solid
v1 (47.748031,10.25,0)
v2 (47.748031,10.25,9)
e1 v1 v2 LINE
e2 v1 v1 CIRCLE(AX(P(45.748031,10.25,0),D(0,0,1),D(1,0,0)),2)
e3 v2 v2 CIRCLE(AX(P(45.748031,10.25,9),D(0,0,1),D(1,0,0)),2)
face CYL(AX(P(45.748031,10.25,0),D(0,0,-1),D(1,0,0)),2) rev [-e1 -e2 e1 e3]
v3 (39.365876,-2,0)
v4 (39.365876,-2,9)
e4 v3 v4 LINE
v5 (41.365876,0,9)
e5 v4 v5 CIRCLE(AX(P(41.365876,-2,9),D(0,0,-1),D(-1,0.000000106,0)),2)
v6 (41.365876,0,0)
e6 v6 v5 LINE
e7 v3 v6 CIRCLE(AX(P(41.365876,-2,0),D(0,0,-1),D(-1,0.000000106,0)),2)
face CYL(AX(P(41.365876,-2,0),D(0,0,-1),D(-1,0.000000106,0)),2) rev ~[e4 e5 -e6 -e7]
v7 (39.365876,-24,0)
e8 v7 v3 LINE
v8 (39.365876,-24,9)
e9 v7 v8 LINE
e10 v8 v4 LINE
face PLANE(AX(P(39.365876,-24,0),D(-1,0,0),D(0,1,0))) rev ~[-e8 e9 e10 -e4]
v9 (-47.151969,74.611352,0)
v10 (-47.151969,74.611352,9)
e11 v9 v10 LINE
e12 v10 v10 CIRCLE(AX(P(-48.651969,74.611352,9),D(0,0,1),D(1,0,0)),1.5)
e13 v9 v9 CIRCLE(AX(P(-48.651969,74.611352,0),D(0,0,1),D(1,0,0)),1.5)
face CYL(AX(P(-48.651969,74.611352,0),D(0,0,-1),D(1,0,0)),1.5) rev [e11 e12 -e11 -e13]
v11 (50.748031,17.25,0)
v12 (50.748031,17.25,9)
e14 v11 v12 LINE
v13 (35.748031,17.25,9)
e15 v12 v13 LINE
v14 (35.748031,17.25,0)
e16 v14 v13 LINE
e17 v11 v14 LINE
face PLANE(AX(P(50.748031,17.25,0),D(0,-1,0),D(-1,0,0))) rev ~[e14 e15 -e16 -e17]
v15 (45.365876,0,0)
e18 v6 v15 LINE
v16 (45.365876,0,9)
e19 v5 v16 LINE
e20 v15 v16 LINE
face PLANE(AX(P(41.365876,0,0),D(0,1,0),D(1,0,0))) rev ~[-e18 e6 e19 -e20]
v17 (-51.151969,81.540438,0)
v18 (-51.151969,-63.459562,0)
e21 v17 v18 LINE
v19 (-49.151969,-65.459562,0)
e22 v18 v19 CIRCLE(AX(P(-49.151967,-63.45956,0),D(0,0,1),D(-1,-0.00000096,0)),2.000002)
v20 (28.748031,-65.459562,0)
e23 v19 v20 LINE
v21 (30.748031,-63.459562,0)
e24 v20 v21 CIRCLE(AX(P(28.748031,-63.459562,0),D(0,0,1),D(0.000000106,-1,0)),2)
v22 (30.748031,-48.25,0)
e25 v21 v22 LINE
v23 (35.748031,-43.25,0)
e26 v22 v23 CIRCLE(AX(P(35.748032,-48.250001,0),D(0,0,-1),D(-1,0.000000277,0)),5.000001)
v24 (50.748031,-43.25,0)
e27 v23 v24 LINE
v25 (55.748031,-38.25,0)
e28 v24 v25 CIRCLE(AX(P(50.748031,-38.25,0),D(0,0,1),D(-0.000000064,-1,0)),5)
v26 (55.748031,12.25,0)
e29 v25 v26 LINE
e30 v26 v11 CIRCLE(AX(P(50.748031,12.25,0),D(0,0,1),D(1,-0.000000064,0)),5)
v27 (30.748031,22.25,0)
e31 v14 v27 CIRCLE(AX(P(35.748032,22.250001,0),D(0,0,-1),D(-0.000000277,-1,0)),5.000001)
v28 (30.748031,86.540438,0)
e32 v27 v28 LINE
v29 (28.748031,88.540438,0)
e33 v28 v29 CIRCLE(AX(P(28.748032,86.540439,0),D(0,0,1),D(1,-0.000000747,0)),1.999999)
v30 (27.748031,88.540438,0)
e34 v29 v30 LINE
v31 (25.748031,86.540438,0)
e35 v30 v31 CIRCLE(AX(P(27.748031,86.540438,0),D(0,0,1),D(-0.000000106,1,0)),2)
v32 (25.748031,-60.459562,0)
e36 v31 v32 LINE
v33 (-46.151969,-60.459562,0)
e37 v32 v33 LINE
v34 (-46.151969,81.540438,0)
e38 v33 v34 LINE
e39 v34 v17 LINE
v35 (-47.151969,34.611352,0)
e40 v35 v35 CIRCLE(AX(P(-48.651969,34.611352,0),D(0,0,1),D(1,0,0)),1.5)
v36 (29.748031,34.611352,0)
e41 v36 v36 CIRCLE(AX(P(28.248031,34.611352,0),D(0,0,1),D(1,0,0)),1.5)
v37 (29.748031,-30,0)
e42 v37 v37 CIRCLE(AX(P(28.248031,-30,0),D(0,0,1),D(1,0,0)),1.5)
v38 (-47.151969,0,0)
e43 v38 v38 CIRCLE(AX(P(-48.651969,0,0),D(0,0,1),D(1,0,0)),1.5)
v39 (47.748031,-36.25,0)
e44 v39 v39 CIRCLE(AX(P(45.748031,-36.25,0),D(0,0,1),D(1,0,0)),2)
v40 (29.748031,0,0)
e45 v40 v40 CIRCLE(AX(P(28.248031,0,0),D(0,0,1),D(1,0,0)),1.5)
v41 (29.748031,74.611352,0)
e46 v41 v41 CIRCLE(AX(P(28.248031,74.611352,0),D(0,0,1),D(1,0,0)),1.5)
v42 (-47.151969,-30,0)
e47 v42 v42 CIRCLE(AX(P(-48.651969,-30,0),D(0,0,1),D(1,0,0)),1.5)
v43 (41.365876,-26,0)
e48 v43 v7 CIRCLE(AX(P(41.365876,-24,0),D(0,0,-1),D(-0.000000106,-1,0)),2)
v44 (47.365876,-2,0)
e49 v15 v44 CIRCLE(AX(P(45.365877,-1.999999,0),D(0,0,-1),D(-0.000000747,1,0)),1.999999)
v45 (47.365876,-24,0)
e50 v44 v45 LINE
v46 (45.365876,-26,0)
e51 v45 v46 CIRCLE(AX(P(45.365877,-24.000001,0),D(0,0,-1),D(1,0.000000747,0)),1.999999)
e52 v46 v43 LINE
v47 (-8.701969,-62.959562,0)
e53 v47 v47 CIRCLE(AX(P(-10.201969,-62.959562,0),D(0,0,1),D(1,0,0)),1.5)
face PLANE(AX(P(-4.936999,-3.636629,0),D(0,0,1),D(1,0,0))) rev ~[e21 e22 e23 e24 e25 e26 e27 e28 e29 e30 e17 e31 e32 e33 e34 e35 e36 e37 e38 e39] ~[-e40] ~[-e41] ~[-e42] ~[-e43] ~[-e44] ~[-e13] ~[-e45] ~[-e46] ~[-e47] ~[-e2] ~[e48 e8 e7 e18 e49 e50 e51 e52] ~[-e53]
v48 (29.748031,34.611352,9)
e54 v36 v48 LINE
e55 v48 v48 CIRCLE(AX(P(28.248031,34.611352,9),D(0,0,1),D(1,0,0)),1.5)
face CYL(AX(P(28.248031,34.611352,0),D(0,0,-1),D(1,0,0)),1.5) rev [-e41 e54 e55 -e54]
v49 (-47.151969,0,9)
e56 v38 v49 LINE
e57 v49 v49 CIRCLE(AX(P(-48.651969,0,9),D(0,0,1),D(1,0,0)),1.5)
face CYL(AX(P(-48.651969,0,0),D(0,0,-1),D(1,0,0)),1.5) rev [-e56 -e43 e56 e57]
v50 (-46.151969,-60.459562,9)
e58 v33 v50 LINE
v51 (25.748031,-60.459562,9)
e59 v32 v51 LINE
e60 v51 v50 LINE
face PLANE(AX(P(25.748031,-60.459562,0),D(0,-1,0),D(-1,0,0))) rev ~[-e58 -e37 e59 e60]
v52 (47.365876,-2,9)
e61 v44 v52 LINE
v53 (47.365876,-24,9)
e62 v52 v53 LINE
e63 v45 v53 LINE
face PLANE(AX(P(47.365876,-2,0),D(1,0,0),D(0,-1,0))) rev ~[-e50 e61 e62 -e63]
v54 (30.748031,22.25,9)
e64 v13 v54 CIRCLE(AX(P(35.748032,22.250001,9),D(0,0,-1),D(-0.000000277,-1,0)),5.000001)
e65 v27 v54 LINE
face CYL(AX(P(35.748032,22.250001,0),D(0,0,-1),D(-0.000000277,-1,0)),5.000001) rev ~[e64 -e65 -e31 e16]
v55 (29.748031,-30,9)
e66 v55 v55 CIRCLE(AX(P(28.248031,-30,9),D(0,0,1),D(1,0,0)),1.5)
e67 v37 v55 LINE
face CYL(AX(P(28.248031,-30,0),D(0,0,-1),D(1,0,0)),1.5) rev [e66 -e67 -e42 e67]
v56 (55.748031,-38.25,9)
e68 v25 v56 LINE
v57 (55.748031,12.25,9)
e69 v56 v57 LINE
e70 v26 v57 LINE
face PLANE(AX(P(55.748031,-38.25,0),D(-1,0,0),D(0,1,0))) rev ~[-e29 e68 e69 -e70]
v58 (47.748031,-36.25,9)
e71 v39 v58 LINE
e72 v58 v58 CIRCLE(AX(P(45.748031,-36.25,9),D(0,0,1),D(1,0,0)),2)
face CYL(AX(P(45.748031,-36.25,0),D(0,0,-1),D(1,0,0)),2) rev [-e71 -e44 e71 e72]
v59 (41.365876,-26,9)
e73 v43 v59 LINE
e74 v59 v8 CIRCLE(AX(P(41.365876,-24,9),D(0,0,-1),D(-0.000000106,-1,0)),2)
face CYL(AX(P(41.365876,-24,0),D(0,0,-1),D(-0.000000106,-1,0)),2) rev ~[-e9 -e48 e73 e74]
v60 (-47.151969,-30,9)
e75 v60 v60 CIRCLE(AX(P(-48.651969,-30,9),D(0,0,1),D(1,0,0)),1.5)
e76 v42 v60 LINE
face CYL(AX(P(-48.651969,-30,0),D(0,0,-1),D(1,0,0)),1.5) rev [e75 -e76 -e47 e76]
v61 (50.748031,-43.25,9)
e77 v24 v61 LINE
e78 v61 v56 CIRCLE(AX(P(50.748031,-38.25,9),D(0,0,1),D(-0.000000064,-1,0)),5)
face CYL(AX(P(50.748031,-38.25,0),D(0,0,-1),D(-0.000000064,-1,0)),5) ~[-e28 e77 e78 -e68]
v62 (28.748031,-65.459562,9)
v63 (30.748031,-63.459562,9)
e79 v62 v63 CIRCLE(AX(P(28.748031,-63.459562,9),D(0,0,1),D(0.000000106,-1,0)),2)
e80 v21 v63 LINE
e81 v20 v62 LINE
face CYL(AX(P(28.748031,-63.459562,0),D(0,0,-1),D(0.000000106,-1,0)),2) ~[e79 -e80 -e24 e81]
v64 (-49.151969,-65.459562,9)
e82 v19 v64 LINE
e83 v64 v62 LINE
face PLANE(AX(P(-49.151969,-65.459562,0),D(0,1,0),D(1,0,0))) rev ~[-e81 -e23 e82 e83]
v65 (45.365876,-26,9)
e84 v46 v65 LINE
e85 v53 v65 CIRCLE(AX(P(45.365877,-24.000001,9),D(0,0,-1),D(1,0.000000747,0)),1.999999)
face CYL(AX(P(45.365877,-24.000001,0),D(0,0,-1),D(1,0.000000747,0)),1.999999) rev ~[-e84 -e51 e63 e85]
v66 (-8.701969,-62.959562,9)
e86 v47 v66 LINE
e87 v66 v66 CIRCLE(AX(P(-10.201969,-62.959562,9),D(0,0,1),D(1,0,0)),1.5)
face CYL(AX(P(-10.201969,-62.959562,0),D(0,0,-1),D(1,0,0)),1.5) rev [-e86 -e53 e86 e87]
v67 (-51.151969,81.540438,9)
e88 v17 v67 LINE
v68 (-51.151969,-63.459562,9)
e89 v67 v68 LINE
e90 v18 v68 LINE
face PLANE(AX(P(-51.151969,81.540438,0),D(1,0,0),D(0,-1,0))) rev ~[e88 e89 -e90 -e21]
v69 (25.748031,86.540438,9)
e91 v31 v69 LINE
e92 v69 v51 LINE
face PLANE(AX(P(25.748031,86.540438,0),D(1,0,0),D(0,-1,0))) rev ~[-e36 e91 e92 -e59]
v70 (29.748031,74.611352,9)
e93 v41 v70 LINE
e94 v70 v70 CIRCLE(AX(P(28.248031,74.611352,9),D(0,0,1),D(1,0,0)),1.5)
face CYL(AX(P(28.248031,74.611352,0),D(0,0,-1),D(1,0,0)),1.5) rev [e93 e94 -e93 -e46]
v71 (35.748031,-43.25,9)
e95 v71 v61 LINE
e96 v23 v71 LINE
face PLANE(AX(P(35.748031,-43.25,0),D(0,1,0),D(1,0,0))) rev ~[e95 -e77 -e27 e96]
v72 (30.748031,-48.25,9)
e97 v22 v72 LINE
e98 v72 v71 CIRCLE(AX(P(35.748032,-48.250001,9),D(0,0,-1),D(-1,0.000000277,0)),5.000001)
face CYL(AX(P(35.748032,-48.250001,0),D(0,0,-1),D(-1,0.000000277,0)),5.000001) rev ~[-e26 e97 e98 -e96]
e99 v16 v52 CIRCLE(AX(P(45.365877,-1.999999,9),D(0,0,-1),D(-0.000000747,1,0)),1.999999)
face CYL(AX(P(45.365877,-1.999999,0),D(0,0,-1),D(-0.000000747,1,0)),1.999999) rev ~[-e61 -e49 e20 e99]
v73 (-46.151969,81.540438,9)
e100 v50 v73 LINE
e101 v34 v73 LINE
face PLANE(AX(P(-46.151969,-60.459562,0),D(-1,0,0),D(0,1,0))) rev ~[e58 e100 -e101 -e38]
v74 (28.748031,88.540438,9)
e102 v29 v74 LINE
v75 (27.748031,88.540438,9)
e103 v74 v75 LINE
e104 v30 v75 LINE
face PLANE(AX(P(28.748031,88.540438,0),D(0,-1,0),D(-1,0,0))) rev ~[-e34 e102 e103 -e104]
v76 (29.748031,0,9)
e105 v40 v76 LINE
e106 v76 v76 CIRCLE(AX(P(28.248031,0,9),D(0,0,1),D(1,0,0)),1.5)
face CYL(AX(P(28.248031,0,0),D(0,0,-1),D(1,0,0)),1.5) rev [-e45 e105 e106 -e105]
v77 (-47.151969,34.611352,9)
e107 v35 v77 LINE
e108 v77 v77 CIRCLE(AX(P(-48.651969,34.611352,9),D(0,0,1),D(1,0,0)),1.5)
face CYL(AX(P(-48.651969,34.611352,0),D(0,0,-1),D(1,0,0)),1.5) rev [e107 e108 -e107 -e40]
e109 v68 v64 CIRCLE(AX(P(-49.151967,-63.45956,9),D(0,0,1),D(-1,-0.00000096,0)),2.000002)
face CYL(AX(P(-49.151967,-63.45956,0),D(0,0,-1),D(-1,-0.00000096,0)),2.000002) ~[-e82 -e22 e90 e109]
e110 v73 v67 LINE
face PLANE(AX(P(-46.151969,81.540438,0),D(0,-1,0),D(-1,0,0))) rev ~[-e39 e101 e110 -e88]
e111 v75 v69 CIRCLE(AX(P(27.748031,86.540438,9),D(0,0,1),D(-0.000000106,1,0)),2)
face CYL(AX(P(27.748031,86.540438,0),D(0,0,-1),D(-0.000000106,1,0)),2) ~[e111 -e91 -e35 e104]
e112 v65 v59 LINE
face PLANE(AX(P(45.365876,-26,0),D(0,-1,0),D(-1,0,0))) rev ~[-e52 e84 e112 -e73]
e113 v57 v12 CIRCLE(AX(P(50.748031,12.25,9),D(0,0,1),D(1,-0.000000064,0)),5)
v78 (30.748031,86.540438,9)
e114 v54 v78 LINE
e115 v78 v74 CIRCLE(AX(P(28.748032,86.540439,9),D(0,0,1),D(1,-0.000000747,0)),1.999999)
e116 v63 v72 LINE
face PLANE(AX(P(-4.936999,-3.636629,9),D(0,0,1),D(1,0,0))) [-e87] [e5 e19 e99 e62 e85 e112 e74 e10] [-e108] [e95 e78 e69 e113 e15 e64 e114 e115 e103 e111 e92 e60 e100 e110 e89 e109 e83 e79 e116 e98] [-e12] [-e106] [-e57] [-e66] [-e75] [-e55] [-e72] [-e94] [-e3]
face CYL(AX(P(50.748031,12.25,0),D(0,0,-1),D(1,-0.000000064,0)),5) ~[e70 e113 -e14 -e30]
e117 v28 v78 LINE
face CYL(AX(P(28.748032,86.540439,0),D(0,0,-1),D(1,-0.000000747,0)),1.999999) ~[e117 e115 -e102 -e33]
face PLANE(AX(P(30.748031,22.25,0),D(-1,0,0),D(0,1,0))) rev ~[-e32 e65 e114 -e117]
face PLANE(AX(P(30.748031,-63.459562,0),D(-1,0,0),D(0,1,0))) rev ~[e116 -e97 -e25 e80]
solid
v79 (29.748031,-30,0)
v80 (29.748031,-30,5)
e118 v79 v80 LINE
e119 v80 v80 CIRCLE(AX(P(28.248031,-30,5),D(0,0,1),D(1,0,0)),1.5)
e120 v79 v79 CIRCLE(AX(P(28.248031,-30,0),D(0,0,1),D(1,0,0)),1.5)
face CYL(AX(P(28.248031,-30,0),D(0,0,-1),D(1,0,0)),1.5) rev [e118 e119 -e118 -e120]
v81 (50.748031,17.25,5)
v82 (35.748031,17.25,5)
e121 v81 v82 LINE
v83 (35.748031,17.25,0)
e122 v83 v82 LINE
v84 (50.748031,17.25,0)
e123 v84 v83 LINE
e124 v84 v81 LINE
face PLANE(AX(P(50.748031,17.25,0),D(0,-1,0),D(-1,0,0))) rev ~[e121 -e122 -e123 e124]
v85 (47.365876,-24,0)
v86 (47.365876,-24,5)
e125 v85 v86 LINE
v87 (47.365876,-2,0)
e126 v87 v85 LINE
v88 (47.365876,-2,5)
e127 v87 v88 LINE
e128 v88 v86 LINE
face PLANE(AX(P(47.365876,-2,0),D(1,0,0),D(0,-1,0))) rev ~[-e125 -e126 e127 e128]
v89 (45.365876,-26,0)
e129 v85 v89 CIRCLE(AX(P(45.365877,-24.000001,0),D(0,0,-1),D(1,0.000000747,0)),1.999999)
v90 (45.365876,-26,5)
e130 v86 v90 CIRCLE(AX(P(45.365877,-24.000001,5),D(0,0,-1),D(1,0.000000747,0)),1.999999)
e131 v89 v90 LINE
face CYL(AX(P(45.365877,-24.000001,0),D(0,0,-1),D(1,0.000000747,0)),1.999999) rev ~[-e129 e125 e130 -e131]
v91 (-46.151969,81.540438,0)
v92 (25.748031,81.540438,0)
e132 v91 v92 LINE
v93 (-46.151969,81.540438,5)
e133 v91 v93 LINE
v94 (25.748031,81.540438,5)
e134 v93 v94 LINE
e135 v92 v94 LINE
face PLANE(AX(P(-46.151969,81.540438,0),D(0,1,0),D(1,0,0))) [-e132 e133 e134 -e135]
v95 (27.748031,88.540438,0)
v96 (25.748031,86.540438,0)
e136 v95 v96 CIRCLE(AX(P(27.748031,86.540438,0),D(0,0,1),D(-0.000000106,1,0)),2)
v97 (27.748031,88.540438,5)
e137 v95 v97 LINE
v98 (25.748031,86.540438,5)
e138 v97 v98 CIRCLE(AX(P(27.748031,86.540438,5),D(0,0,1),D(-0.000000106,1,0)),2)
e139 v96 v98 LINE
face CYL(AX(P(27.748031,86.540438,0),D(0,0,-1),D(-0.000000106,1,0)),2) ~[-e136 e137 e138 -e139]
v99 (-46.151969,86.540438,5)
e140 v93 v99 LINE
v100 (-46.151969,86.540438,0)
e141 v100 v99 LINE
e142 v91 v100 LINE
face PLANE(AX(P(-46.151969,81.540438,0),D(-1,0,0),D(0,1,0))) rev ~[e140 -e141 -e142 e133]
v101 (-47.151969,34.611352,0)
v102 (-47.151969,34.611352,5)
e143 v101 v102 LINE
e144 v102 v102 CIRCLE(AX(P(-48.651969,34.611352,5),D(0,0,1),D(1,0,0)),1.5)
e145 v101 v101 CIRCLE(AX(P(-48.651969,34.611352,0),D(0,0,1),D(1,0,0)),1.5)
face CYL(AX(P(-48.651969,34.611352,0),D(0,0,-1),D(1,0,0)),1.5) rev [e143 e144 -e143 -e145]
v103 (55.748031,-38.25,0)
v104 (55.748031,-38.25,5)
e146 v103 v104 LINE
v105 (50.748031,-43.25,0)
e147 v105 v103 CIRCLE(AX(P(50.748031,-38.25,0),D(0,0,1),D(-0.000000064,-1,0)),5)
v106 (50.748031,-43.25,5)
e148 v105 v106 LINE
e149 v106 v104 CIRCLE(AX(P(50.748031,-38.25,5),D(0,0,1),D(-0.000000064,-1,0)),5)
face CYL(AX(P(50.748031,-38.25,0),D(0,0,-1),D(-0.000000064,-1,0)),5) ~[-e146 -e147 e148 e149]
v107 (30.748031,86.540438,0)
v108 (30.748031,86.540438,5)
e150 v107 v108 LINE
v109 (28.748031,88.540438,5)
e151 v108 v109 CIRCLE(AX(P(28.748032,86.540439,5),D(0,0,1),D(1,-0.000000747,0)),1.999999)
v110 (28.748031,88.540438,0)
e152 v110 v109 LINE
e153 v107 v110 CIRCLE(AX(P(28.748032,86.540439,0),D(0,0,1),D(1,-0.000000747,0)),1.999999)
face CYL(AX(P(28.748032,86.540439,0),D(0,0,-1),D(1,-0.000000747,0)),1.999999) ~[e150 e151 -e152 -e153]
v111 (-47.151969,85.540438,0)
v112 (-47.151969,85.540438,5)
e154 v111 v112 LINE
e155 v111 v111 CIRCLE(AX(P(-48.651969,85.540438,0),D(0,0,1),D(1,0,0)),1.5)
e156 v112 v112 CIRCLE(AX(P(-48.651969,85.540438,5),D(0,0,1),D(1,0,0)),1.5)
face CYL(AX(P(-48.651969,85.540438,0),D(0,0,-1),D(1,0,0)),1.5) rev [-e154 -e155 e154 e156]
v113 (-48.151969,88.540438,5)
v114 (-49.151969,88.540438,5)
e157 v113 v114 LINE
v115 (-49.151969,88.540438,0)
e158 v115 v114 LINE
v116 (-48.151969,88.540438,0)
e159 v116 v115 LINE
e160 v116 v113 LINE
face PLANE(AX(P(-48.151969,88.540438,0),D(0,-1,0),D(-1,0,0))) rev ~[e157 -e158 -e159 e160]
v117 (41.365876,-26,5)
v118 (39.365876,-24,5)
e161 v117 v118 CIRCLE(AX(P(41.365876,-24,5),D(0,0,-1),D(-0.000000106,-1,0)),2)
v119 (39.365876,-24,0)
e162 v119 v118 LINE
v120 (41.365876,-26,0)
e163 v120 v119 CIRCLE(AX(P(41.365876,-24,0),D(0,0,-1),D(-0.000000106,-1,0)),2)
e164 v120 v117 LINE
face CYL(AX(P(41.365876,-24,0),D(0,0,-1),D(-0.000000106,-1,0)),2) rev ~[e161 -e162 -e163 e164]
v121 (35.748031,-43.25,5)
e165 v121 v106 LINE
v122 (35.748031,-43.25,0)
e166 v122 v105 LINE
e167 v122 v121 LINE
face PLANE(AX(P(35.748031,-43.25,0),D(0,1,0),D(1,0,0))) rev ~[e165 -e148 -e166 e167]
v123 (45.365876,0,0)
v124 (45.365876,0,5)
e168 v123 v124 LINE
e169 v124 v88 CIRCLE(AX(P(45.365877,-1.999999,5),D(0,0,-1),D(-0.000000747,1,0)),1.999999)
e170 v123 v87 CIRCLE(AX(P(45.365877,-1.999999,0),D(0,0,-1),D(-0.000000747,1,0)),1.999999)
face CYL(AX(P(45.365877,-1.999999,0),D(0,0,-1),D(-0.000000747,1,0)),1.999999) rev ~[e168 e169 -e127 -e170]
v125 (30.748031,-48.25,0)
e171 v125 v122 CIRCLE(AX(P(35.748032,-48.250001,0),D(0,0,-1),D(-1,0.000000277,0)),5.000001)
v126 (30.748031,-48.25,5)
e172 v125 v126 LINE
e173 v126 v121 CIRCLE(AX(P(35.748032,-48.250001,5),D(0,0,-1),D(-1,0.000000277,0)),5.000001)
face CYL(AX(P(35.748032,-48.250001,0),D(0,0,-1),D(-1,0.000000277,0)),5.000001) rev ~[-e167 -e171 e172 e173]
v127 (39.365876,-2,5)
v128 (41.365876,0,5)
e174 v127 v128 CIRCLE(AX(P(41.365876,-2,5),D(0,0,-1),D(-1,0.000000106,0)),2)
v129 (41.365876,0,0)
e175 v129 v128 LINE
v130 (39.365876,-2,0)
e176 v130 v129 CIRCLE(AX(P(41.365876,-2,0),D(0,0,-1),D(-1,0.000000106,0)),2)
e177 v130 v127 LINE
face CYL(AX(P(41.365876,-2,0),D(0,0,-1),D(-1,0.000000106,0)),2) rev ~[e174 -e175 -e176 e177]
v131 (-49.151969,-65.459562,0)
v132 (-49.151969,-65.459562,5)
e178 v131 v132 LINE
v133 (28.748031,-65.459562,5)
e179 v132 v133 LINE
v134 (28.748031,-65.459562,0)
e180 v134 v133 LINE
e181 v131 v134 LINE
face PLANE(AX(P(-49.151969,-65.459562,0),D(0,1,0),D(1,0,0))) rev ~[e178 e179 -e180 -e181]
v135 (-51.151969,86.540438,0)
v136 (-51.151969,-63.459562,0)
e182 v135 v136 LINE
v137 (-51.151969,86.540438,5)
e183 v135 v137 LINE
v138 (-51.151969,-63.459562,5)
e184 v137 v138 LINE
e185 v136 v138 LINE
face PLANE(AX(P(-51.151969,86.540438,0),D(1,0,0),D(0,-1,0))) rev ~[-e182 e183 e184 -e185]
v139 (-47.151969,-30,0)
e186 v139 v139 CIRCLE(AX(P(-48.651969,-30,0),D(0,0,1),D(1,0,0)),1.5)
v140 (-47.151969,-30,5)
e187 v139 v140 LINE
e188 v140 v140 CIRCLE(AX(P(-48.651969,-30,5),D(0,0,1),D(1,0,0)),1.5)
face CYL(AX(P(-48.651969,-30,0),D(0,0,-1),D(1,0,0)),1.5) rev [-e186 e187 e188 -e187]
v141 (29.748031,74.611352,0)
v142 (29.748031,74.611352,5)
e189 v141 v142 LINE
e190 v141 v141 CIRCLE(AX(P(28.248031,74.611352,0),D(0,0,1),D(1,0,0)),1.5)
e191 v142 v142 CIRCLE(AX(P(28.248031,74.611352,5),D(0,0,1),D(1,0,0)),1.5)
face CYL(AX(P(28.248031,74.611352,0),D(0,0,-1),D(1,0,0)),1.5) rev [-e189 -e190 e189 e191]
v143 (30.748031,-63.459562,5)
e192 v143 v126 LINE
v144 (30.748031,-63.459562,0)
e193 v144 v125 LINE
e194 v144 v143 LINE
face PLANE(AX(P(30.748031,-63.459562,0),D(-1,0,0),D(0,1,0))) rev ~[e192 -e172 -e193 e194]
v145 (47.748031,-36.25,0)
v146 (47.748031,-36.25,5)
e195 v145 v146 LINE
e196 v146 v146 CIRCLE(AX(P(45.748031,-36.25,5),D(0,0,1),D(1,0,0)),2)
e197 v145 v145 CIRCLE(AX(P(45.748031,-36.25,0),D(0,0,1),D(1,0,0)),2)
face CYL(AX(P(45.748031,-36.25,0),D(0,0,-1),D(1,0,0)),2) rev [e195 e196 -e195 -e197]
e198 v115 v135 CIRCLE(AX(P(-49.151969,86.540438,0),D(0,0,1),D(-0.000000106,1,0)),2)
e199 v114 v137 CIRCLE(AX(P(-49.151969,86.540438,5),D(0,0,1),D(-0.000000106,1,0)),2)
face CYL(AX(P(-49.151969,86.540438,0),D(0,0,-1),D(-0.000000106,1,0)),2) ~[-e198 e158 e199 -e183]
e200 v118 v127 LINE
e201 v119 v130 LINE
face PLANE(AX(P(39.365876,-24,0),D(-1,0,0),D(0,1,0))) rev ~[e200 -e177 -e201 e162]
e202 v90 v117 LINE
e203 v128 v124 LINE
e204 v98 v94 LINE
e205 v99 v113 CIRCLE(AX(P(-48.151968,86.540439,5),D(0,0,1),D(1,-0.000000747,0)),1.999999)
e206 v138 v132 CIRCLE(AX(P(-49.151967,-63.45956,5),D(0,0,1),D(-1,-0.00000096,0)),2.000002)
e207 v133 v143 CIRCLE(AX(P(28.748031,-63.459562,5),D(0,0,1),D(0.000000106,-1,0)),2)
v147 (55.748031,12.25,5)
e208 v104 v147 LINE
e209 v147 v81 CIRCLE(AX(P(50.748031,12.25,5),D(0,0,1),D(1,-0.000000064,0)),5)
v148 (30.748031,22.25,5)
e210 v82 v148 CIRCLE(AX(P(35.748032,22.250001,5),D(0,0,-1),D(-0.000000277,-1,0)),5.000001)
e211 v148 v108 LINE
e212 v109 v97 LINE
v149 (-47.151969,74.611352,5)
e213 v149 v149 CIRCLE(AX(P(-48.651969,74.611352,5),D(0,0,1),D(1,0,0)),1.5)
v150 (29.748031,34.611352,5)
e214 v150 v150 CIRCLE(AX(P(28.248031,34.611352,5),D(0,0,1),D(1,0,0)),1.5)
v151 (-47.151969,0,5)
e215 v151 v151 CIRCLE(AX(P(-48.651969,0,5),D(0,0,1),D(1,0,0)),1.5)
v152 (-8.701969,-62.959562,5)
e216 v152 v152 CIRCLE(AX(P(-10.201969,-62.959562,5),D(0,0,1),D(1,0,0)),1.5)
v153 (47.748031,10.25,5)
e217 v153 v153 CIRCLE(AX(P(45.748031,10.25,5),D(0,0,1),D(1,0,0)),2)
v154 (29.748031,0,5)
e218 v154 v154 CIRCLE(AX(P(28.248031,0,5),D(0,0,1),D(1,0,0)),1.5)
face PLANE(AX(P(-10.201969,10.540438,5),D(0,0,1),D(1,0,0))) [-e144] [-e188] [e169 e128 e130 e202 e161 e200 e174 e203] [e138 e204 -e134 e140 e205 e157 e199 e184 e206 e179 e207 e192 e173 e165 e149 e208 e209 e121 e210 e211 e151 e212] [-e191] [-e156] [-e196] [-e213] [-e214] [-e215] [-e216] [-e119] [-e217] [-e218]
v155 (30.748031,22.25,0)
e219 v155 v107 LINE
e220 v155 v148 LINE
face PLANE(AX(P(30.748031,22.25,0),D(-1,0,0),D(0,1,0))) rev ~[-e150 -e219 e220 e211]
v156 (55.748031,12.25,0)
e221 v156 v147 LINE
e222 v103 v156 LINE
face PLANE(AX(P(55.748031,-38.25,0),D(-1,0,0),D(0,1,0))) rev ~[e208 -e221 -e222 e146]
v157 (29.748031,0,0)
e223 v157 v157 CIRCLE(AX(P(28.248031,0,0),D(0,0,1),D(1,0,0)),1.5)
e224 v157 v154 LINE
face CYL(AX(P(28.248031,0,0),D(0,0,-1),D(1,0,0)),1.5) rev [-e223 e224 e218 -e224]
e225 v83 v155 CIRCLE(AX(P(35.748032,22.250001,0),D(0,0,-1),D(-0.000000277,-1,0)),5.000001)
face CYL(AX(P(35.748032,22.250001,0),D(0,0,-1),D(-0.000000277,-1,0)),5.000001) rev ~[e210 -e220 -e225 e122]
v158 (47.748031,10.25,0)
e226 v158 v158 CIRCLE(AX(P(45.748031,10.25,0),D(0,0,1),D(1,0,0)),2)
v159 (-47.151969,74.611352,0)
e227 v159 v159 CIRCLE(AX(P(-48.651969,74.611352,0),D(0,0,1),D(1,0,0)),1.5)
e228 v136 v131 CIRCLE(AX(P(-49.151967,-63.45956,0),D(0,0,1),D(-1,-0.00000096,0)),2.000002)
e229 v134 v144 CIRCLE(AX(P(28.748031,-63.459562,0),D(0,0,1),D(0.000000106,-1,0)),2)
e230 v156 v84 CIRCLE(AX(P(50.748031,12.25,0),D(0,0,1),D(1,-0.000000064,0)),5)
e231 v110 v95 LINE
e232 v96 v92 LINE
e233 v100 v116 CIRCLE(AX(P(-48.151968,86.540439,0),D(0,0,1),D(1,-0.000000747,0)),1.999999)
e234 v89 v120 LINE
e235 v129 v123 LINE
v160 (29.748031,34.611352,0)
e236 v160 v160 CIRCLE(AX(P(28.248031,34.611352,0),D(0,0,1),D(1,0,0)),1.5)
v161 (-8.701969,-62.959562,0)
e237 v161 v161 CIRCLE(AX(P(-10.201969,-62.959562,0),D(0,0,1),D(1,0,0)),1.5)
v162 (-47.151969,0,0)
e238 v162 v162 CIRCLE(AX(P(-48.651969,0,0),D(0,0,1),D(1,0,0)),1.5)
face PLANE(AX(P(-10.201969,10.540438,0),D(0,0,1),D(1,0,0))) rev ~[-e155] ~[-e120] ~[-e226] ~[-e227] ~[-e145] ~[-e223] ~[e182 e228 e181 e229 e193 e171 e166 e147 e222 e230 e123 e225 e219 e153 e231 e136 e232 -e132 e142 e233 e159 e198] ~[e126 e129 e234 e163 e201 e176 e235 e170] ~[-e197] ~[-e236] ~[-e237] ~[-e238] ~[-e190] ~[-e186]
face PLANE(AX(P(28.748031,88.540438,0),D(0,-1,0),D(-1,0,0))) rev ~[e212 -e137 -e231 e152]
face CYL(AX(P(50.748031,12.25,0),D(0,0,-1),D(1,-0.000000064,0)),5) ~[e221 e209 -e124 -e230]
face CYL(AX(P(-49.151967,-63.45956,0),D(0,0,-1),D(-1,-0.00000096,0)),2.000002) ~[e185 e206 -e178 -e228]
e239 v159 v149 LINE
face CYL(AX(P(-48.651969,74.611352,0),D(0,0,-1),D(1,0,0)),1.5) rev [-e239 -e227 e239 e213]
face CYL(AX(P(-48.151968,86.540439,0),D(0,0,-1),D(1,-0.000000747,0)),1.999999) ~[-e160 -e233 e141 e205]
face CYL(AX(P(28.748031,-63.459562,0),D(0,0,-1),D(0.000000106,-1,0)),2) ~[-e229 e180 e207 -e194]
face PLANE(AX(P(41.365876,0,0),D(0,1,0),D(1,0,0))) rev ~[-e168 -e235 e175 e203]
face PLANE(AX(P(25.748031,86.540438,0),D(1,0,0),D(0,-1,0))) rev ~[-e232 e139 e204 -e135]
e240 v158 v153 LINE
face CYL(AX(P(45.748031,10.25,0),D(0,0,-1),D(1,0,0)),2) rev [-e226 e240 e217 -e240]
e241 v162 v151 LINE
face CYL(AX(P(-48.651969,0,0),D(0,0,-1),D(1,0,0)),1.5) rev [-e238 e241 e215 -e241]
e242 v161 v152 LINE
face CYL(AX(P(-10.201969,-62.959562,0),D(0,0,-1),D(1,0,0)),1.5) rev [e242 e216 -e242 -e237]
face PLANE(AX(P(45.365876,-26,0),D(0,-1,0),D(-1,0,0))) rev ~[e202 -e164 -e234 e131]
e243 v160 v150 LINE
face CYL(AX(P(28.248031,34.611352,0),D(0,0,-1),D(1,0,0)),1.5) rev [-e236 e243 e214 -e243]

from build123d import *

# Parameters (mm, degrees)
F0_R     = 1.5
F0_R_2   = 2
F1_DEPTH = 9
F0_W     = 71.9
F0_H     = 142
F2_DEPTH = 5


with BuildPart() as f1:
    # F0 (on Top) → F1 (new body)
    with BuildSketch(Plane.XY):
        with BuildLine():
            Line((-46.151969, -60.459562), (-46.151969, 81.540438))
            Line((-46.151969, 81.540438), (-51.151969, 81.540438))
            Line((-51.151969, 81.540438), (-51.151969, -57.287913))
            Line((-51.151969, -57.287913), (-51.151969, -63.459562))
            ThreePointArc((-51.151969, -63.459562), (-50.566182, -64.873775), (-49.151969, -65.459562))
            Line((-49.151969, -65.459562), (28.748031, -65.459562))
            ThreePointArc((28.748031, -65.459562), (30.162245, -64.873775), (30.748031, -63.459562))
            Line((30.748031, -63.459562), (30.748031, -60.459562))
            Line((30.748031, -60.459562), (30.748031, -48.25))
            ThreePointArc((30.748031, -48.25), (32.212498, -44.714466), (35.748031, -43.25))
            Line((35.748031, -43.25), (50.748031, -43.25))
            ThreePointArc((50.748031, -43.25), (54.283565, -41.785534), (55.748031, -38.25))
            Line((55.748031, -38.25), (55.748031, 12.25))
            ThreePointArc((55.748031, 12.25), (54.283565, 15.785534), (50.748031, 17.25))
            Line((50.748031, 17.25), (35.748031, 17.25))
            ThreePointArc((35.748031, 17.25), (32.212498, 18.714466), (30.748031, 22.25))
            Line((30.748031, 22.25), (30.748031, 86.540438))
            ThreePointArc((30.748031, 86.540438), (30.162245, 87.954652), (28.748031, 88.540438))
            Line((28.748031, 88.540438), (27.748031, 88.540438))
            ThreePointArc((27.748031, 88.540438), (26.333818, 87.954652), (25.748031, 86.540438))
            Line((25.748031, 86.540438), (25.748031, 81.540438))
            Line((25.748031, 81.540438), (25.748031, -60.459562))
            Line((25.748031, -60.459562), (-46.151969, -60.459562))
        make_face()
        with Locations((-48.651969, -30)):
            Circle(F0_R, mode=Mode.SUBTRACT)
        with Locations((-10.201969, -62.959562)):
            Circle(F0_R, mode=Mode.SUBTRACT)
        with Locations((-48.651969, 0)):
            Circle(F0_R, mode=Mode.SUBTRACT)
        with Locations((28.248031, -30)):
            Circle(F0_R, mode=Mode.SUBTRACT)
        with Locations((45.748031, -36.25)):
            Circle(F0_R_2, mode=Mode.SUBTRACT)
        with Locations((28.248031, 0)):
            Circle(F0_R, mode=Mode.SUBTRACT)
        with BuildLine():
            Line((47.365876, -2), (47.365876, -13))
            Line((47.365876, -13), (47.365876, -24))
            ThreePointArc((47.365876, -24), (46.78009, -25.414214), (45.365876, -26))
            Line((45.365876, -26), (41.365876, -26))
            ThreePointArc((41.365876, -26), (39.951663, -25.414214), (39.365876, -24))
            Line((39.365876, -24), (39.365876, -13))
            Line((39.365876, -13), (39.365876, -2))
            ThreePointArc((39.365876, -2), (39.951663, -0.585786), (41.365876, 0))
            Line((41.365876, 0), (45.365876, 0))
            ThreePointArc((45.365876, 0), (46.78009, -0.585786), (47.365876, -2))
        make_face(mode=Mode.SUBTRACT)
        with Locations((45.748031, 10.25)):
            Circle(F0_R_2, mode=Mode.SUBTRACT)
        with Locations((-48.651969, 34.611352)):
            Circle(F0_R, mode=Mode.SUBTRACT)
        with Locations((-48.651969, 74.611352)):
            Circle(F0_R, mode=Mode.SUBTRACT)
        with Locations((28.248031, 34.611352)):
            Circle(F0_R, mode=Mode.SUBTRACT)
        with Locations((28.248031, 74.611352)):
            Circle(F0_R, mode=Mode.SUBTRACT)
    extrude(amount=F1_DEPTH)


with BuildPart() as f2:
    # F0 (on Top) → F2 (new body)
    with BuildSketch(Plane.XY):
        with Locations((-10.201969, 10.540438)):
            Rectangle(F0_W, F0_H)
        with BuildLine():
            Line((-51.151969, 81.540438), (-46.151969, 81.540438))
            Line((-46.151969, 81.540438), (-46.151969, 86.540438))
            ThreePointArc((-46.151969, 86.540438), (-46.737755, 87.954652), (-48.151969, 88.540438))
            Line((-48.151969, 88.540438), (-49.151969, 88.540438))
            ThreePointArc((-49.151969, 88.540438), (-50.566182, 87.954652), (-51.151969, 86.540438))
            Line((-51.151969, 86.540438), (-51.151969, 81.540438))
        make_face()
        with Locations((-48.651969, 85.540438)):
            Circle(F0_R, mode=Mode.SUBTRACT)
        with BuildLine():
            Line((-46.151969, -60.459562), (-46.151969, 81.540438))
            Line((-46.151969, 81.540438), (-51.151969, 81.540438))
            Line((-51.151969, 81.540438), (-51.151969, -57.287913))
            Line((-51.151969, -57.287913), (-51.151969, -63.459562))
            ThreePointArc((-51.151969, -63.459562), (-50.566182, -64.873775), (-49.151969, -65.459562))
            Line((-49.151969, -65.459562), (28.748031, -65.459562))
            ThreePointArc((28.748031, -65.459562), (30.162245, -64.873775), (30.748031, -63.459562))
            Line((30.748031, -63.459562), (30.748031, -60.459562))
            Line((30.748031, -60.459562), (30.748031, -48.25))
            ThreePointArc((30.748031, -48.25), (32.212498, -44.714466), (35.748031, -43.25))
            Line((35.748031, -43.25), (50.748031, -43.25))
            ThreePointArc((50.748031, -43.25), (54.283565, -41.785534), (55.748031, -38.25))
            Line((55.748031, -38.25), (55.748031, 12.25))
            ThreePointArc((55.748031, 12.25), (54.283565, 15.785534), (50.748031, 17.25))
            Line((50.748031, 17.25), (35.748031, 17.25))
            ThreePointArc((35.748031, 17.25), (32.212498, 18.714466), (30.748031, 22.25))
            Line((30.748031, 22.25), (30.748031, 86.540438))
            ThreePointArc((30.748031, 86.540438), (30.162245, 87.954652), (28.748031, 88.540438))
            Line((28.748031, 88.540438), (27.748031, 88.540438))
            ThreePointArc((27.748031, 88.540438), (26.333818, 87.954652), (25.748031, 86.540438))
            Line((25.748031, 86.540438), (25.748031, 81.540438))
            Line((25.748031, 81.540438), (25.748031, -60.459562))
            Line((25.748031, -60.459562), (-46.151969, -60.459562))
        make_face()
        with Locations((-48.651969, -30)):
            Circle(F0_R, mode=Mode.SUBTRACT)
        with Locations((-10.201969, -62.959562)):
            Circle(F0_R, mode=Mode.SUBTRACT)
        with Locations((-48.651969, 0)):
            Circle(F0_R, mode=Mode.SUBTRACT)
        with Locations((28.248031, -30)):
            Circle(F0_R, mode=Mode.SUBTRACT)
        with Locations((45.748031, -36.25)):
            Circle(F0_R_2, mode=Mode.SUBTRACT)
        with Locations((28.248031, 0)):
            Circle(F0_R, mode=Mode.SUBTRACT)
        with BuildLine():
            Line((47.365876, -2), (47.365876, -13))
            Line((47.365876, -13), (47.365876, -24))
            ThreePointArc((47.365876, -24), (46.78009, -25.414214), (45.365876, -26))
            Line((45.365876, -26), (41.365876, -26))
            ThreePointArc((41.365876, -26), (39.951663, -25.414214), (39.365876, -24))
            Line((39.365876, -24), (39.365876, -13))
            Line((39.365876, -13), (39.365876, -2))
            ThreePointArc((39.365876, -2), (39.951663, -0.585786), (41.365876, 0))
            Line((41.365876, 0), (45.365876, 0))
            ThreePointArc((45.365876, 0), (46.78009, -0.585786), (47.365876, -2))
        make_face(mode=Mode.SUBTRACT)
        with Locations((45.748031, 10.25)):
            Circle(F0_R_2, mode=Mode.SUBTRACT)
        with Locations((-48.651969, 34.611352)):
            Circle(F0_R, mode=Mode.SUBTRACT)
        with Locations((-48.651969, 74.611352)):
            Circle(F0_R, mode=Mode.SUBTRACT)
        with Locations((28.248031, 34.611352)):
            Circle(F0_R, mode=Mode.SUBTRACT)
        with Locations((28.248031, 74.611352)):
            Circle(F0_R, mode=Mode.SUBTRACT)
    extrude(amount=F2_DEPTH)


solid = Compound([f1.part, f2.part])
